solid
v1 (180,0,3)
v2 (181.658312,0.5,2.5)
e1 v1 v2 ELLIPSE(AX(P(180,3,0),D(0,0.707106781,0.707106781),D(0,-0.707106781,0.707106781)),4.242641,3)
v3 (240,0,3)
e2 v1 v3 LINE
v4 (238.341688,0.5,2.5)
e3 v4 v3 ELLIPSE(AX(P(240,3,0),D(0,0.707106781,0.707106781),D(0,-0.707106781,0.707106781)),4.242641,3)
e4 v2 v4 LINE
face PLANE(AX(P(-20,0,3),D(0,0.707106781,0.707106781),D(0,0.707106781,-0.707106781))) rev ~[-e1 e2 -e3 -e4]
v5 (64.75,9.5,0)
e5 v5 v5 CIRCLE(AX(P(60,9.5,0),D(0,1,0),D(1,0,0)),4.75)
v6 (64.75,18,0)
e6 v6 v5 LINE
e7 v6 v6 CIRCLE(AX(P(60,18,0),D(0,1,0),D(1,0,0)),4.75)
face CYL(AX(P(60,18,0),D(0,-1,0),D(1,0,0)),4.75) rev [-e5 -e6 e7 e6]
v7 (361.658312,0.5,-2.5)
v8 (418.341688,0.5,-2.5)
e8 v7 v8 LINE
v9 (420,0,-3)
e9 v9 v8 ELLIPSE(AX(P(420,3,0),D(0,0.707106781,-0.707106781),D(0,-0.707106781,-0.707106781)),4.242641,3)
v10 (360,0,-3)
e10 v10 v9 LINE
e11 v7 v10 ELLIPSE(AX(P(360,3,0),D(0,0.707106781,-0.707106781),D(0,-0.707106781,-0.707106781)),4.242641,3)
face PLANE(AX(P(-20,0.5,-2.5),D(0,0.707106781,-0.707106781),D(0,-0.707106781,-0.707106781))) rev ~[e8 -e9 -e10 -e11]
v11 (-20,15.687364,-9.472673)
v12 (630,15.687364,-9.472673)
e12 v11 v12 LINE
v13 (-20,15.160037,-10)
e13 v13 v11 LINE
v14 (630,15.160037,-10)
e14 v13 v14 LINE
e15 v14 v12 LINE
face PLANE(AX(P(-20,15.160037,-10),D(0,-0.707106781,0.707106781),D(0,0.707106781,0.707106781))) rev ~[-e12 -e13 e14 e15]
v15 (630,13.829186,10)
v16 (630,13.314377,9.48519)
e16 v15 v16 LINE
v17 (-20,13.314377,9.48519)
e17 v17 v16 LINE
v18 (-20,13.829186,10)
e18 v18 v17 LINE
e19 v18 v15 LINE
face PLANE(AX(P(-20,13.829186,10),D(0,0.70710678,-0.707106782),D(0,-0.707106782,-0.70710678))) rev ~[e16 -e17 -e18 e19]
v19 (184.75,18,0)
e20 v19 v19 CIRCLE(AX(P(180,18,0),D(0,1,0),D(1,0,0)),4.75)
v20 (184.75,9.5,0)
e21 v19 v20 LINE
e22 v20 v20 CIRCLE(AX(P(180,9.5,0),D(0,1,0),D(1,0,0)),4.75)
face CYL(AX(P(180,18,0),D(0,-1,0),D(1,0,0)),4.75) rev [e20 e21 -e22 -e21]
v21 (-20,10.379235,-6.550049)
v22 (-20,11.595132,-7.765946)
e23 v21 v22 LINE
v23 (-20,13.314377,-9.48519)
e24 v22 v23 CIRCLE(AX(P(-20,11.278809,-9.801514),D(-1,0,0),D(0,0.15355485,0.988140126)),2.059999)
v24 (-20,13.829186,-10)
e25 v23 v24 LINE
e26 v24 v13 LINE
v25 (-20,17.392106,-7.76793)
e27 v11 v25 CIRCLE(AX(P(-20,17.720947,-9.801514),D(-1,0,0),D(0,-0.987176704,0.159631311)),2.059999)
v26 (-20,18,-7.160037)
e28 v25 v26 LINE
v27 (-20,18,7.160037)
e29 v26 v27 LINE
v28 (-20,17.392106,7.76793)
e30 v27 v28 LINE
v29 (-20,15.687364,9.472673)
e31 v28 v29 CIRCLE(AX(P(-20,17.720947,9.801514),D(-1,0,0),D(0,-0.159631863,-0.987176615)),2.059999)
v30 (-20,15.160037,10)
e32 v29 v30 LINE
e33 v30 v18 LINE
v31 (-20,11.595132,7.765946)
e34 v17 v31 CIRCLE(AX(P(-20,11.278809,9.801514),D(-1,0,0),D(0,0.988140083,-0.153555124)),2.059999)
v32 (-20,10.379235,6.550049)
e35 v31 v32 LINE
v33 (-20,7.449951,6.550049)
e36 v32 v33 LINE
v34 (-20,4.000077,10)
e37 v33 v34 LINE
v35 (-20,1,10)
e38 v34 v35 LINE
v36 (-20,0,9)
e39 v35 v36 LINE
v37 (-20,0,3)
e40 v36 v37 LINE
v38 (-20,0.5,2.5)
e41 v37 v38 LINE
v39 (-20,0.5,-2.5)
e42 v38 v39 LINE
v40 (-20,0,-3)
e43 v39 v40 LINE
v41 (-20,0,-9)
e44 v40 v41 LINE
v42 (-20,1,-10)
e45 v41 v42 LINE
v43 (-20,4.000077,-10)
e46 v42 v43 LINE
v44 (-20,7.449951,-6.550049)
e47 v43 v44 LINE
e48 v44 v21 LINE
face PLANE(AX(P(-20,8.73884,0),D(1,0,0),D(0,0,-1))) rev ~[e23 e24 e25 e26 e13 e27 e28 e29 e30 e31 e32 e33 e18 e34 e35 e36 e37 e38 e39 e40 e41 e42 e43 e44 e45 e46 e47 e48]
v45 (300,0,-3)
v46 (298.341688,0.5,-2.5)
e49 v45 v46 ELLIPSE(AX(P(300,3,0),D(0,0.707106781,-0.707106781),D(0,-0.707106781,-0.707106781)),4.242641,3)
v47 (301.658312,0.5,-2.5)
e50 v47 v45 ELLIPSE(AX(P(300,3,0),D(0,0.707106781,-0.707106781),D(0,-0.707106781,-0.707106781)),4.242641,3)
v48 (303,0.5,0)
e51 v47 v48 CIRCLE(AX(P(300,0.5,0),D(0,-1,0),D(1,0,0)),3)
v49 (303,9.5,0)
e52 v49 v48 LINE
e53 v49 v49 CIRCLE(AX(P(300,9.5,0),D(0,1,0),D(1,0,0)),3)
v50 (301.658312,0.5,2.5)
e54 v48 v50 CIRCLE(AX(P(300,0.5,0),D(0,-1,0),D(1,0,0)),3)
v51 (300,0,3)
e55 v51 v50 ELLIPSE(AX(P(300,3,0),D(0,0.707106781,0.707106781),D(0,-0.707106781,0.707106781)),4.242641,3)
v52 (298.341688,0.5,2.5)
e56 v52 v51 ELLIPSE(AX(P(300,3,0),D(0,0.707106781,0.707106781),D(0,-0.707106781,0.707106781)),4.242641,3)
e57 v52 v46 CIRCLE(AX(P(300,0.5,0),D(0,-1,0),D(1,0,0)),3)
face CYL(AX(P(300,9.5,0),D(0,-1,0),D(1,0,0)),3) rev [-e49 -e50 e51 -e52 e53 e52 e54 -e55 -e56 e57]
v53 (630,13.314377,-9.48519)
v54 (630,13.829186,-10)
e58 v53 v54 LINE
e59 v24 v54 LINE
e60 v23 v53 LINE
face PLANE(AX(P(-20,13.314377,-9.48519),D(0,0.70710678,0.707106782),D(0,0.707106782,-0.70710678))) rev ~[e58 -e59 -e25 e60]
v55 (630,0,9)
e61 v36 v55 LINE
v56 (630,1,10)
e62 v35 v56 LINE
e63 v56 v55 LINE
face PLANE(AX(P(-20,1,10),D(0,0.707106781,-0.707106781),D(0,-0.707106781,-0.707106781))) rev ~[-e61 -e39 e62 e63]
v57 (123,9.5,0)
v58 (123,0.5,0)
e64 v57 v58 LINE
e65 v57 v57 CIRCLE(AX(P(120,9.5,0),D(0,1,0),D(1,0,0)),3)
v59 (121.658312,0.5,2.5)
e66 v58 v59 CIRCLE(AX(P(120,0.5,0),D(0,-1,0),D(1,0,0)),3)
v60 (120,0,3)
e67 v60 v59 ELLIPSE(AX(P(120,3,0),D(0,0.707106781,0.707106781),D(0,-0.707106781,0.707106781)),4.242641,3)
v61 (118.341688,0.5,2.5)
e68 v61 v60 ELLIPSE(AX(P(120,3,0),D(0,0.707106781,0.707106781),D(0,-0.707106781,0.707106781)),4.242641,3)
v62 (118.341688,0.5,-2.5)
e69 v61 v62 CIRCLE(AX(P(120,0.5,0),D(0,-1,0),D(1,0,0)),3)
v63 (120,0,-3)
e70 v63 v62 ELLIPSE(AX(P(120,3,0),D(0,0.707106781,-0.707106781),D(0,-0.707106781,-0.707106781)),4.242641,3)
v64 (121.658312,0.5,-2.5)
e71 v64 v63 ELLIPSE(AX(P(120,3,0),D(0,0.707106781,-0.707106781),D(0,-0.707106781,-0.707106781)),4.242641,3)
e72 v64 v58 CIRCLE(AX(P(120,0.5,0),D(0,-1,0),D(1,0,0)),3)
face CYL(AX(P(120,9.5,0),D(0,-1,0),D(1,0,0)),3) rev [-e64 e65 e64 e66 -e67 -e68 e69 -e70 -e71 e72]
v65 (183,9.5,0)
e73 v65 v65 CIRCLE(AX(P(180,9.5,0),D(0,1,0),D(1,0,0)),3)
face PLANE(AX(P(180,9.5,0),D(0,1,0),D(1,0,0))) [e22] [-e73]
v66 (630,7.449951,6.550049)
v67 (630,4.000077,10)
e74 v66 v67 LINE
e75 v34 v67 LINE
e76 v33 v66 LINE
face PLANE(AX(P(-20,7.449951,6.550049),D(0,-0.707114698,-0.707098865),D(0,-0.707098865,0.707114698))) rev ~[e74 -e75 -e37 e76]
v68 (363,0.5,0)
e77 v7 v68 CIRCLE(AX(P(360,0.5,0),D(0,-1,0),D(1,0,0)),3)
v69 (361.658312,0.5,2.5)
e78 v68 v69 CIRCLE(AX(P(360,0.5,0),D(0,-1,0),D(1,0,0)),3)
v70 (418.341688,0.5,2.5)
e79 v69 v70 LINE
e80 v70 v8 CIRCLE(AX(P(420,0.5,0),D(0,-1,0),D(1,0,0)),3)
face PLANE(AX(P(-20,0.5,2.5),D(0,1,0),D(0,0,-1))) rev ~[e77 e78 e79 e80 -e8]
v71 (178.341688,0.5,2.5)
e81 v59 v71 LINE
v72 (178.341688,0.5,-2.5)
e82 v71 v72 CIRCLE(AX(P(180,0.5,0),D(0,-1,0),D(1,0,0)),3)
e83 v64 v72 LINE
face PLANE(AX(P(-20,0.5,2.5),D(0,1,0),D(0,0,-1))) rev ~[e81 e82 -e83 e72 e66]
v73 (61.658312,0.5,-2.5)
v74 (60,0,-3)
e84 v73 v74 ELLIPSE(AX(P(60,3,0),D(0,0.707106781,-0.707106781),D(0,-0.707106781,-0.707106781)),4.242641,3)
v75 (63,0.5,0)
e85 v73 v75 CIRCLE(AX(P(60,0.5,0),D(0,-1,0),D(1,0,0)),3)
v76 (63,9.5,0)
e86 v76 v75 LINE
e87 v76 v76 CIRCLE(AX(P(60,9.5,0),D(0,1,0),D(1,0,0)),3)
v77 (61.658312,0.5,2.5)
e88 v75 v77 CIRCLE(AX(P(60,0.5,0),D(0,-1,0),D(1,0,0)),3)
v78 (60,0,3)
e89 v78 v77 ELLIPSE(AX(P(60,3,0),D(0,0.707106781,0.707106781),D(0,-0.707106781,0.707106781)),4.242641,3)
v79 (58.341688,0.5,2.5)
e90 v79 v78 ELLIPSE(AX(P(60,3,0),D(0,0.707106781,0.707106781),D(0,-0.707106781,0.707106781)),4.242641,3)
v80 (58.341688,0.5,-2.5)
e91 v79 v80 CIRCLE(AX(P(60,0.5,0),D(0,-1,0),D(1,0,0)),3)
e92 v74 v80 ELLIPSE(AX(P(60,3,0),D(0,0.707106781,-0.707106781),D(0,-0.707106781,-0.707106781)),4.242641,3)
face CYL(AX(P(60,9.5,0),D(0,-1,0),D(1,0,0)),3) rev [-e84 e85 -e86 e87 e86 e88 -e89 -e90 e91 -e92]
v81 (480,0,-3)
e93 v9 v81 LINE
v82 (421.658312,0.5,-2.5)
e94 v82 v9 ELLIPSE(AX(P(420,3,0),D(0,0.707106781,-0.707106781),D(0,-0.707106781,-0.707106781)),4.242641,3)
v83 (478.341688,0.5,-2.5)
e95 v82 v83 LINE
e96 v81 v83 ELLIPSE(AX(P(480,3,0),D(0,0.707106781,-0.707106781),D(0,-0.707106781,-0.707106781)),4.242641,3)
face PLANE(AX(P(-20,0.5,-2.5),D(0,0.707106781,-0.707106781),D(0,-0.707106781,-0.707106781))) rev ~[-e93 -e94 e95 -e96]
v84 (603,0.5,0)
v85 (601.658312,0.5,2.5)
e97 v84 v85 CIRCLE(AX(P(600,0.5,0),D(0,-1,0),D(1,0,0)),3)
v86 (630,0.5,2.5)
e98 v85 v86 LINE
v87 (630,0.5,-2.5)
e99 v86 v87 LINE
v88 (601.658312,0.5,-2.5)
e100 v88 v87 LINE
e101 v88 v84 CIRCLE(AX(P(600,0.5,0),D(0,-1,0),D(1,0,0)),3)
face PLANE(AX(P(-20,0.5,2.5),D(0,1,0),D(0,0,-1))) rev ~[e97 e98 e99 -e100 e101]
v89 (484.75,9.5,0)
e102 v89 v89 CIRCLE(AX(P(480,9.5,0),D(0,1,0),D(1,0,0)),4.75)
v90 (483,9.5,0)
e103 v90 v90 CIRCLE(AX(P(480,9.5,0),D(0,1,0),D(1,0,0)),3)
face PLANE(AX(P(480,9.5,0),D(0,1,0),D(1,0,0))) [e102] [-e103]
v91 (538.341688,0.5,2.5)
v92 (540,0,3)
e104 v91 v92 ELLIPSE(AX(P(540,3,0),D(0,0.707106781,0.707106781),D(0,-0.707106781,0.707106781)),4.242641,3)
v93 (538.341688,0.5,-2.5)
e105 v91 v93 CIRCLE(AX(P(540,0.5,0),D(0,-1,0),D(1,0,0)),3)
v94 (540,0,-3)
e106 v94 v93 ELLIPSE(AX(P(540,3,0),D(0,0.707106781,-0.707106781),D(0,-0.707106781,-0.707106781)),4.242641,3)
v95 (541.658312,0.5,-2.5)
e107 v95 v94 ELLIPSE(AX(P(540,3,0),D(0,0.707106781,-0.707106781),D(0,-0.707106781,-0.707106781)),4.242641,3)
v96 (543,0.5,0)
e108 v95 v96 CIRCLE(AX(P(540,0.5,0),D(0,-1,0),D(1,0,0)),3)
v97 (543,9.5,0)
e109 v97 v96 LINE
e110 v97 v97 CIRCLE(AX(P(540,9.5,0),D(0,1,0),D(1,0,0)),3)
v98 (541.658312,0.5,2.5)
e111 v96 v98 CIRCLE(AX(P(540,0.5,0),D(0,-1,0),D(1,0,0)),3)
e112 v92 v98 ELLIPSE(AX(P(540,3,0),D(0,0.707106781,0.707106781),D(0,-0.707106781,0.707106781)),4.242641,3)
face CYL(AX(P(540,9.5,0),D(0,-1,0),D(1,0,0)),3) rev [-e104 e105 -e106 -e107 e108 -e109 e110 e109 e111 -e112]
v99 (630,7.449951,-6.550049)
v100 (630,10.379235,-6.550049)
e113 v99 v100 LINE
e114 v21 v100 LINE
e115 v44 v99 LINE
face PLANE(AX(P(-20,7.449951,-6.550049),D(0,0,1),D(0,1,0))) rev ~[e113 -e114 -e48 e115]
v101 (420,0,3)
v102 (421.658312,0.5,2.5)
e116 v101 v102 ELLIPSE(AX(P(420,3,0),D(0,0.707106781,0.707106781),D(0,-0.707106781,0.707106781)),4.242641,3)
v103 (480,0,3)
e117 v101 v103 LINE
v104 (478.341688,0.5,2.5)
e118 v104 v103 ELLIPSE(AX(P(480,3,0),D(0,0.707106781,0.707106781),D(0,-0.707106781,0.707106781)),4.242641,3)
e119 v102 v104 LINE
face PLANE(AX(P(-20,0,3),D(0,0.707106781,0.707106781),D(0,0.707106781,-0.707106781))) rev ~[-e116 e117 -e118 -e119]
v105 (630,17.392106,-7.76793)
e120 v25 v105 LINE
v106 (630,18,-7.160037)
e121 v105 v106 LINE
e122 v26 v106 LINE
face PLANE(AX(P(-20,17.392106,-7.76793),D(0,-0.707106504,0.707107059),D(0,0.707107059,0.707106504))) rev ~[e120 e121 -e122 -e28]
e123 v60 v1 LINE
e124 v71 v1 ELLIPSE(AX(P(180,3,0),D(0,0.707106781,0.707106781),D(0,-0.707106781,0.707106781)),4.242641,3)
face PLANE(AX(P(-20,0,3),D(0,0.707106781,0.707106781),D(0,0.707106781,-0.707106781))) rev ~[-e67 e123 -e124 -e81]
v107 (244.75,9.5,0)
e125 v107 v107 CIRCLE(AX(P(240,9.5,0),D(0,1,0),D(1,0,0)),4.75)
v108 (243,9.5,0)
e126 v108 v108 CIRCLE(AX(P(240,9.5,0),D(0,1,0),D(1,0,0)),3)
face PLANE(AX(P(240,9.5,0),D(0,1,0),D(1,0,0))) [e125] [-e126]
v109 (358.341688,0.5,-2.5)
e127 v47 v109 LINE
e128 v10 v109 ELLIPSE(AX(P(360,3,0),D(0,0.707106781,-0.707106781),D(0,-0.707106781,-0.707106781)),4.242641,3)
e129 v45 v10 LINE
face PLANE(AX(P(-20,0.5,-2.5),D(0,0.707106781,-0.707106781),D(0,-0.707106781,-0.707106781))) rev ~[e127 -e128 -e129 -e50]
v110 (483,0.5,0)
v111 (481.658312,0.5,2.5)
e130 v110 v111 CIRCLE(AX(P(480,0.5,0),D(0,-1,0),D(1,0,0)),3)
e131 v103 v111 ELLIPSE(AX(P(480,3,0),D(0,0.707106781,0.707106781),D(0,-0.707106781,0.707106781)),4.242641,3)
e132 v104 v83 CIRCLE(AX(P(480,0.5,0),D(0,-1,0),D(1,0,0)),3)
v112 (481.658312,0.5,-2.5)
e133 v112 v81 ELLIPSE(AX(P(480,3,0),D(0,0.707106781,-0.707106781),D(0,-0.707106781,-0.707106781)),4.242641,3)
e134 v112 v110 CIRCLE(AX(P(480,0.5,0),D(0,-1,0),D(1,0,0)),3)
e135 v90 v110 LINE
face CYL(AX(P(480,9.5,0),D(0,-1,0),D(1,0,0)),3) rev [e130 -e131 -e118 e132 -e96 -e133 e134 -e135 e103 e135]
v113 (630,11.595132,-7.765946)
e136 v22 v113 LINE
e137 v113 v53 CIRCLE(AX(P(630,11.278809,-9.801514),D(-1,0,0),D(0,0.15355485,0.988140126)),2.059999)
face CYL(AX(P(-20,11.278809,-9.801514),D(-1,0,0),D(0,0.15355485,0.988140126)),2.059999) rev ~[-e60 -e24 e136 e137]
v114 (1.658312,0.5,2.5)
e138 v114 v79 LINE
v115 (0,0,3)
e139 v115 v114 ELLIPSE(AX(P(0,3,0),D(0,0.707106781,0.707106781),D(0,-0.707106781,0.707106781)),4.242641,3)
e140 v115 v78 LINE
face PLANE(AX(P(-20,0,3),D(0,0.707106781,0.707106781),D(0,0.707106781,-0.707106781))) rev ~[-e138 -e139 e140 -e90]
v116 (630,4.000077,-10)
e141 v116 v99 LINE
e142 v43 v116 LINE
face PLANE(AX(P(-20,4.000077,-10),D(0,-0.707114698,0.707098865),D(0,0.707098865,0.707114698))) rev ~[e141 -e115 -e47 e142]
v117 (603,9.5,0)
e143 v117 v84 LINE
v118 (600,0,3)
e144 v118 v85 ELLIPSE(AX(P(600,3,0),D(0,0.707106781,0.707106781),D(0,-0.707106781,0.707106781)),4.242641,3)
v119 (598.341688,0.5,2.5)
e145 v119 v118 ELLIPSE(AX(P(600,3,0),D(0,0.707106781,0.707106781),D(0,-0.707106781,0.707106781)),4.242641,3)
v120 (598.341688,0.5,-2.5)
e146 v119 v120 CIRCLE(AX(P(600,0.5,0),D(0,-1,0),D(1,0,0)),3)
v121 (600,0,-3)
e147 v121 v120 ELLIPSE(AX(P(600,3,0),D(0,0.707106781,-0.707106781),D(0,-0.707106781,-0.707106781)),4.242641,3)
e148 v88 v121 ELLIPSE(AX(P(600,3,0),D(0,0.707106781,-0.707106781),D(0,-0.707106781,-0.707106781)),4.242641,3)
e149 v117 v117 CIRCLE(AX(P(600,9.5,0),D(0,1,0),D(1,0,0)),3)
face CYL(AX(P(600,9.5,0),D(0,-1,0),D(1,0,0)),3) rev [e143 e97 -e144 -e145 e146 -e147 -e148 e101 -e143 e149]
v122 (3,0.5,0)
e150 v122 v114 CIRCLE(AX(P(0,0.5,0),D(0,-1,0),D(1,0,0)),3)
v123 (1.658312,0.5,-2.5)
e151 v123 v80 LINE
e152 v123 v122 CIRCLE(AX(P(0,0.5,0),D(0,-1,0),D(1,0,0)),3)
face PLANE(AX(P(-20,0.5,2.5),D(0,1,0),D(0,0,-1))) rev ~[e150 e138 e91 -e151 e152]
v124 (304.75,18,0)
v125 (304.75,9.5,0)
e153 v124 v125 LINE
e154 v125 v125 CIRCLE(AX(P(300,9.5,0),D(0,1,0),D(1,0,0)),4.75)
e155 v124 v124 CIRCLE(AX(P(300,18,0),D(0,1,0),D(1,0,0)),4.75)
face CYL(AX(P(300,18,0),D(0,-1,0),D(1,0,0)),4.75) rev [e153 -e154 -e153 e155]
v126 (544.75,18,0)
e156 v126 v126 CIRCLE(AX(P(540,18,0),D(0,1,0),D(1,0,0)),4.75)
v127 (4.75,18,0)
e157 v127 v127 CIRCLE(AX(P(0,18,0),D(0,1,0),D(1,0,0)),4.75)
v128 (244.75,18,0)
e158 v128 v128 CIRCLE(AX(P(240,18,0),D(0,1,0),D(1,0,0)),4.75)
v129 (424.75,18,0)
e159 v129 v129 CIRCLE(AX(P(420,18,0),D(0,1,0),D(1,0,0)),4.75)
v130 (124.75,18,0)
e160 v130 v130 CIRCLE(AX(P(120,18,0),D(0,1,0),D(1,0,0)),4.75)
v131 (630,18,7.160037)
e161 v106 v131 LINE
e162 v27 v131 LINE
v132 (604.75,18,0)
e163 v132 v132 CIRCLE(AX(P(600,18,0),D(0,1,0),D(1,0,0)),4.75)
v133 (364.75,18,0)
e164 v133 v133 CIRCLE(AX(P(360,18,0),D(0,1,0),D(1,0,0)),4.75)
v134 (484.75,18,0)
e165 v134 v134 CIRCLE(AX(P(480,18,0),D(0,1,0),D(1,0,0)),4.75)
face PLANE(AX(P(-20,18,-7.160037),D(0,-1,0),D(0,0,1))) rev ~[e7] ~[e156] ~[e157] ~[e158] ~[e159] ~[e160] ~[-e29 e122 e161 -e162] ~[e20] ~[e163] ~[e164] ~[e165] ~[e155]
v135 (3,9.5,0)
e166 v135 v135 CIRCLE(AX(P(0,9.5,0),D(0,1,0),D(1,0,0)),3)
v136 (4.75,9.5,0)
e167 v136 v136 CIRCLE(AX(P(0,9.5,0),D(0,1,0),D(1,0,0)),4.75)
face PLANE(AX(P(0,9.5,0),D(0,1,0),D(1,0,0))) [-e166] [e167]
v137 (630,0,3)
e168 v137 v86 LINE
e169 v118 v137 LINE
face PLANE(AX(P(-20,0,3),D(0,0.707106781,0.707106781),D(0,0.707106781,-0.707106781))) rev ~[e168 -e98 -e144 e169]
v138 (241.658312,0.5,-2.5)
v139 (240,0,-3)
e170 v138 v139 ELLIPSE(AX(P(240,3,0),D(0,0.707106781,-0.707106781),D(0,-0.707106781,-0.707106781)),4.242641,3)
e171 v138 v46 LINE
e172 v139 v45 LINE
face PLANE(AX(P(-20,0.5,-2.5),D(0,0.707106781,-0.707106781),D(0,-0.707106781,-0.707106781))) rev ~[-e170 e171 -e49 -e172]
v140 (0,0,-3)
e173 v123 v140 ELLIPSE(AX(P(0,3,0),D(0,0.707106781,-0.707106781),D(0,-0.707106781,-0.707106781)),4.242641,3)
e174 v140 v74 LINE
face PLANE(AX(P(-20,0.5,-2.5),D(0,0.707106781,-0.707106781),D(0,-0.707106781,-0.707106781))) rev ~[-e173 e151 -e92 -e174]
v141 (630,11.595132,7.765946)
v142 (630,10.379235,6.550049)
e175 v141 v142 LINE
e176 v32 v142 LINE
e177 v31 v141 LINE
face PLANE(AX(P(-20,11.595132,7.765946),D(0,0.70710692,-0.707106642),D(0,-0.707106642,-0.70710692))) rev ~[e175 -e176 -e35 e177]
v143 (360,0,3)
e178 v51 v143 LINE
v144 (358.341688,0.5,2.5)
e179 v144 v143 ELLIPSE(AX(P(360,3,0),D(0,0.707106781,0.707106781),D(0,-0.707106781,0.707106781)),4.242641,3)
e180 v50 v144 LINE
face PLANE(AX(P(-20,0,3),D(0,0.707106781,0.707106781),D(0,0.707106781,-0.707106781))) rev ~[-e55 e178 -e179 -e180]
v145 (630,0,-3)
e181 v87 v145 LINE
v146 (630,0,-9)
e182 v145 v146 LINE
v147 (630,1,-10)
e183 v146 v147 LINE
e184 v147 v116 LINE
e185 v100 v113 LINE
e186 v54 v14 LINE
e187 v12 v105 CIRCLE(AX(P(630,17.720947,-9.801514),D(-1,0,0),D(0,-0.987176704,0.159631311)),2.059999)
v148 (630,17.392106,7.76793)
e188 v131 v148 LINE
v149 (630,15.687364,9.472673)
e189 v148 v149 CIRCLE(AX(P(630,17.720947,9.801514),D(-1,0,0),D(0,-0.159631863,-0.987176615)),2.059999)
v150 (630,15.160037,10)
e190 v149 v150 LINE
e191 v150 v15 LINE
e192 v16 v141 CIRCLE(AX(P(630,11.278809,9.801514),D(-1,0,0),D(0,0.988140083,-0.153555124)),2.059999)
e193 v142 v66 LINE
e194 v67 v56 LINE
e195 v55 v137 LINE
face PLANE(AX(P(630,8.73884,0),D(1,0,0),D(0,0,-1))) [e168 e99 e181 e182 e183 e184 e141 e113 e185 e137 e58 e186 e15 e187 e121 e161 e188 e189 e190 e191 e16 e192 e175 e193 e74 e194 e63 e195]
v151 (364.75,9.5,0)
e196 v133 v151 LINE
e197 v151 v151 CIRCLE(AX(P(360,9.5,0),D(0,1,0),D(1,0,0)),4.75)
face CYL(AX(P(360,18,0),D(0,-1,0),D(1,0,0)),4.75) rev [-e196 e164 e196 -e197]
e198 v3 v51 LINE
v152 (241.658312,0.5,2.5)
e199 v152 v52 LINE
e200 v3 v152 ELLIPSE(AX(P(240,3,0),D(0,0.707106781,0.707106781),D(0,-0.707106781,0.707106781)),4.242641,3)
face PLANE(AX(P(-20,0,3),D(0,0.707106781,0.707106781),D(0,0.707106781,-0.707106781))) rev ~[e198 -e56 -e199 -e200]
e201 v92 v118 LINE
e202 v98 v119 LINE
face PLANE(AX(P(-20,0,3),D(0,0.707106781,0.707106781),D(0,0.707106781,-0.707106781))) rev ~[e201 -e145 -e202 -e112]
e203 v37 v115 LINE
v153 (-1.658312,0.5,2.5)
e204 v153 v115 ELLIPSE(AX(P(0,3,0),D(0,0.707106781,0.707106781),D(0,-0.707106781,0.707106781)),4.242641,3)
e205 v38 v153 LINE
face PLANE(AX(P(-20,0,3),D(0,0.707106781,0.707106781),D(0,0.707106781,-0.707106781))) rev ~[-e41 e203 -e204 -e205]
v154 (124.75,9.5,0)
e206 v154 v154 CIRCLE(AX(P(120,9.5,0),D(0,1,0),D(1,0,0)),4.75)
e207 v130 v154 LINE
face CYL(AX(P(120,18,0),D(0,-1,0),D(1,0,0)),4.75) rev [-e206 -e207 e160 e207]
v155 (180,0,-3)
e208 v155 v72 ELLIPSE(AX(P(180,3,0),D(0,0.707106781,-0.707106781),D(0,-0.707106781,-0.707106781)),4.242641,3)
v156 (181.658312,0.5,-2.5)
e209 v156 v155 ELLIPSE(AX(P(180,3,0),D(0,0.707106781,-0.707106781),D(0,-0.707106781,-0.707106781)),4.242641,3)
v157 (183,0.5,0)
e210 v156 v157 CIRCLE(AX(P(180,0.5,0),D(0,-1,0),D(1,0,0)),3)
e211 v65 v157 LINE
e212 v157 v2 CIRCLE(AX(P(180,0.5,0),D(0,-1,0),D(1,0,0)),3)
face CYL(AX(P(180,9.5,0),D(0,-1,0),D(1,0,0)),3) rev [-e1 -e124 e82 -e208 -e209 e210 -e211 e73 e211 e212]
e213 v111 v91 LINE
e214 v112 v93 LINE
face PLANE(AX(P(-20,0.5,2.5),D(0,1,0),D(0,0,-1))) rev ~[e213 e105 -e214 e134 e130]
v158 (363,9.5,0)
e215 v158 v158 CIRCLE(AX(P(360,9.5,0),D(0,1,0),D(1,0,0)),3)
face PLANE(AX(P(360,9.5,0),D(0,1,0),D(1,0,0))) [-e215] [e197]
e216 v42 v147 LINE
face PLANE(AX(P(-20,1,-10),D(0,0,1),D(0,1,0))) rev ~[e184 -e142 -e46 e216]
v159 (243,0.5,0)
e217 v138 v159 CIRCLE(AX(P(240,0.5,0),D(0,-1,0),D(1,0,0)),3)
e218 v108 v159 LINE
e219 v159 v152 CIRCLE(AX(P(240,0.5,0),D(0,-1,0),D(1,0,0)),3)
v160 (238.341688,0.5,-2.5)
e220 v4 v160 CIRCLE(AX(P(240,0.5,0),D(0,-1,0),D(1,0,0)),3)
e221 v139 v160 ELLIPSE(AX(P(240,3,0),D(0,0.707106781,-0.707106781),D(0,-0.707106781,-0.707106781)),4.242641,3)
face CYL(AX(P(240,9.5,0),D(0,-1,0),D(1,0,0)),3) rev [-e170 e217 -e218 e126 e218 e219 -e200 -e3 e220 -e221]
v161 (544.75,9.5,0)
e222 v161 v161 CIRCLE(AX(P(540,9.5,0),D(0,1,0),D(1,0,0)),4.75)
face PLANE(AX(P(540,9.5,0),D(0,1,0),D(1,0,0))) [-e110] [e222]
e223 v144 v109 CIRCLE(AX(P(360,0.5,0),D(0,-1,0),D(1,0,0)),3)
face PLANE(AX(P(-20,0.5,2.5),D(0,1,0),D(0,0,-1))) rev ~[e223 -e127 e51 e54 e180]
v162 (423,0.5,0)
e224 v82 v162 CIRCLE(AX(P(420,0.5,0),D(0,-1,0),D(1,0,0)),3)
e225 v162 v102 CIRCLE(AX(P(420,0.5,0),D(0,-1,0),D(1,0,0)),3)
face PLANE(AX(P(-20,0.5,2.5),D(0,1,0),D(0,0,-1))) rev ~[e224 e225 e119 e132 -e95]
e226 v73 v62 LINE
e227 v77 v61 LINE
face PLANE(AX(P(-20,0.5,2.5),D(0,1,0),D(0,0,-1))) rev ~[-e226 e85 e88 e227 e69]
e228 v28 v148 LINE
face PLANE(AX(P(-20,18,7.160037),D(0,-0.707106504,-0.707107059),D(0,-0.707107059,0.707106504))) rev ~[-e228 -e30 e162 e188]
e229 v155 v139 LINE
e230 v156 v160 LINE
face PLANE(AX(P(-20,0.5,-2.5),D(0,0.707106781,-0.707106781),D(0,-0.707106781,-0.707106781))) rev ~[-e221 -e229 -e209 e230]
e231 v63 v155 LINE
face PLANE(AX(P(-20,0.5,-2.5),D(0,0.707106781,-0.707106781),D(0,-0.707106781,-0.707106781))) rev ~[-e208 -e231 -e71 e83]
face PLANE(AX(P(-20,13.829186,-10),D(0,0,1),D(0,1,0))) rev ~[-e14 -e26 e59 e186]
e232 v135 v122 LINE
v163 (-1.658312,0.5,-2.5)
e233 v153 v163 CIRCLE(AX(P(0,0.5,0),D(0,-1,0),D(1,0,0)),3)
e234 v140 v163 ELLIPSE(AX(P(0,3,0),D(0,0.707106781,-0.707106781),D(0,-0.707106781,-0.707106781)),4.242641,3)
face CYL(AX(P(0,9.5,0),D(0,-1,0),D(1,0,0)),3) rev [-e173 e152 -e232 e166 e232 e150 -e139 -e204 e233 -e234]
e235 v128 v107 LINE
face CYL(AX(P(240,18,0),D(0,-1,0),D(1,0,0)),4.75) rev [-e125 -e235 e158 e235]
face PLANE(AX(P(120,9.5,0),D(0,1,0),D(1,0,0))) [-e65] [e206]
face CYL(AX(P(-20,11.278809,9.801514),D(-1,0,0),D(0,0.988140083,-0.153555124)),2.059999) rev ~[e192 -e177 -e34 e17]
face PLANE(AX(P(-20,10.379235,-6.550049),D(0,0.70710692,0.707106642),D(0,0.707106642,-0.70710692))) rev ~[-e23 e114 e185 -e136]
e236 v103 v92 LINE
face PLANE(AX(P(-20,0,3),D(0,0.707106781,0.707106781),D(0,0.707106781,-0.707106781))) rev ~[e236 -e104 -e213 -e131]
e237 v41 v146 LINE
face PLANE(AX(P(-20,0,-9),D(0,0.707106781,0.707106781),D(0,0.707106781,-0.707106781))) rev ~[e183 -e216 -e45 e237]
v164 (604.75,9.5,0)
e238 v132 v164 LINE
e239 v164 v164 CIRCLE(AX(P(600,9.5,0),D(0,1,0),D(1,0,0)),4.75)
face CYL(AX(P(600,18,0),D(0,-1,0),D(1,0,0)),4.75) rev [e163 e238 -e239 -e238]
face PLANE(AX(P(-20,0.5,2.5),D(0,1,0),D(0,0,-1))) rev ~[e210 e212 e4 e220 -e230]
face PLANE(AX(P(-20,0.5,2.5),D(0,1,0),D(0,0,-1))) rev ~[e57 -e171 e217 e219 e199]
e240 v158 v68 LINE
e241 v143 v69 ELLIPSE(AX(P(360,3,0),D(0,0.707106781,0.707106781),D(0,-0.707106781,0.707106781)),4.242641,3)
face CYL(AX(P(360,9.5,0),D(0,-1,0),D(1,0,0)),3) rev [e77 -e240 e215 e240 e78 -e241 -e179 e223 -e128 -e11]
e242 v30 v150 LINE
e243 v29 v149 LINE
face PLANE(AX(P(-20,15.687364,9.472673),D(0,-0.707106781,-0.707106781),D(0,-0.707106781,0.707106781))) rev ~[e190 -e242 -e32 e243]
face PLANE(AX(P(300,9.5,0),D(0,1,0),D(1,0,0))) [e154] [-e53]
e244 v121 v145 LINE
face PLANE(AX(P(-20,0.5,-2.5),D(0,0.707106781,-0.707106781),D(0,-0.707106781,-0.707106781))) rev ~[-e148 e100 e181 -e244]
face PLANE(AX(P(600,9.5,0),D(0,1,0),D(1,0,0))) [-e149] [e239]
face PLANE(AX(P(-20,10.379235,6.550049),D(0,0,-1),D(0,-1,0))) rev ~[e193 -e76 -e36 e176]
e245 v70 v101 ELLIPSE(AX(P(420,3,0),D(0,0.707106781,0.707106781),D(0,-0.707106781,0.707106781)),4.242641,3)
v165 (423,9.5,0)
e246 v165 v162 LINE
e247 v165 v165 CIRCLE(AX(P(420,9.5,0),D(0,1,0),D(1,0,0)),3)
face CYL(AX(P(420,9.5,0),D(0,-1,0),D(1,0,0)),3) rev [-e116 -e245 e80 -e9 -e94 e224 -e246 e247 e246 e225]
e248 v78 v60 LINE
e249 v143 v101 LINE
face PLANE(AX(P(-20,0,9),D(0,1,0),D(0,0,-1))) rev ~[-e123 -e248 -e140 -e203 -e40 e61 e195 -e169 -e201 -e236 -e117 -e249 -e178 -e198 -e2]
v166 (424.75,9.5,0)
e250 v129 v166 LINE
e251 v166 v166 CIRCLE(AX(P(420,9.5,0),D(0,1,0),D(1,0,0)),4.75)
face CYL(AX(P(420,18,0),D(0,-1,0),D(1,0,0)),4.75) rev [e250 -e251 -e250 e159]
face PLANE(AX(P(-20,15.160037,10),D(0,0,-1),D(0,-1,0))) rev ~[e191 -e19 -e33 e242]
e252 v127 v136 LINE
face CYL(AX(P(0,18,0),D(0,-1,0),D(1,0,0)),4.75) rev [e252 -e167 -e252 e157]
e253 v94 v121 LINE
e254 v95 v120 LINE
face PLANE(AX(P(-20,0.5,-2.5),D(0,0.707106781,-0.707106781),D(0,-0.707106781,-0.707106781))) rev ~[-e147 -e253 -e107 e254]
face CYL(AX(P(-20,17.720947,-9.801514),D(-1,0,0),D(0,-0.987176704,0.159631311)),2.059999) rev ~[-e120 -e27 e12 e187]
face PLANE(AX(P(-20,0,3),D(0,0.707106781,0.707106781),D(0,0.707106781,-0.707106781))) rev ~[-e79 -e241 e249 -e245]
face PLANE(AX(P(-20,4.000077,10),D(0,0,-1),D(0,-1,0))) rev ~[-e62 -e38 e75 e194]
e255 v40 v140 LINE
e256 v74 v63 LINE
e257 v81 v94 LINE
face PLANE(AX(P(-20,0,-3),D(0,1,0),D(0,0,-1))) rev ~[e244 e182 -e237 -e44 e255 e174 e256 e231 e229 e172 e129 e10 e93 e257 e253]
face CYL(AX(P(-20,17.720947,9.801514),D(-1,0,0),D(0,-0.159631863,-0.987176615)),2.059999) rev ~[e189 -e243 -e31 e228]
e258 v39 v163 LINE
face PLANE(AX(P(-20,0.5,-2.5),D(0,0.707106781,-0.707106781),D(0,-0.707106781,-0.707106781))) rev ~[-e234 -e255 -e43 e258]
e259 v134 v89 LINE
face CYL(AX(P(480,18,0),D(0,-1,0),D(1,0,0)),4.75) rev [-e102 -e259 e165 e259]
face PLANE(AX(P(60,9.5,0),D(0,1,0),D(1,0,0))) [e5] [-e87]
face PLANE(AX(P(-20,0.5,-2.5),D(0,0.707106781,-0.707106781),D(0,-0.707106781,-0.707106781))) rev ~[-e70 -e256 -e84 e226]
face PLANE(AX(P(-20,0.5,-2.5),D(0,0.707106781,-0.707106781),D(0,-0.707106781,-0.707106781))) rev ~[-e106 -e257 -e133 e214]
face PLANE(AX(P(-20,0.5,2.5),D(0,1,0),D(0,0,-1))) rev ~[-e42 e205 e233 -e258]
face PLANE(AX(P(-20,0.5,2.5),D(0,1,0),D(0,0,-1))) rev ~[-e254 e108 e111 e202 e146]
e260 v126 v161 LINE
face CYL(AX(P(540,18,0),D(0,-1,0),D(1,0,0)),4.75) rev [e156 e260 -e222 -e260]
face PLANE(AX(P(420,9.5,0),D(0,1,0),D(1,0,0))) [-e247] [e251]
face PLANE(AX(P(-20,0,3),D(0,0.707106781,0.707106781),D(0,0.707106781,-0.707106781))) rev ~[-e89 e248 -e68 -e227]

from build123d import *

# Parameters (mm, degrees)
BOSS_EXTRUDE1_DEPTH = 650
LPATTERN1_COUNT     = 9
LPATTERN1_PITCH     = 60


with BuildPart() as part:
    # Sketch1 → Boss-Extrude1 (new body)
    with BuildSketch(Plane(origin=(-20, 0, 0), x_dir=(0, 0, -1), z_dir=(1, 0, 0))):
        with BuildLine():
            Line((-10, 4.000077248), (-10, 1))
            Line((-10, 1), (-9, 0))
            Line((-9, 0), (-3, 0))
            Line((-3, 0), (-2.5, 0.5))
            Line((-2.5, 0.5), (2.5, 0.5))
            Line((2.5, 0.5), (3, 0))
            Line((3, 0), (9, 0))
            Line((9, 0), (10, 1))
            Line((10, 1), (10, 4.000077248))
            Line((10, 4.000077248), (6.550048828, 7.449951172))
            Line((6.550048828, 7.449951172), (6.550048828, 10.379235268))
            Line((6.550048828, 10.379235268), (7.765945541, 11.595131504))
            ThreePointArc((7.765945541, 11.595131504), (8.344873878, 12.735447983), (9.485190198, 13.314376637))
            Line((9.485190198, 13.314376637), (10, 13.82918644))
            Line((10, 13.82918644), (10, 15.160037041))
            Line((10, 15.160037041), (9.472673258, 15.687363783))
            ThreePointArc((9.472673258, 15.687363783), (8.344874488, 16.264307267), (7.767930373, 17.392105714))
            Line((7.767930373, 17.392105714), (7.160036564, 18))
            Line((7.160036564, 18), (-7.160036564, 18))
            Line((-7.160036564, 18), (-7.767930373, 17.392105714))
            ThreePointArc((-7.767930373, 17.392105714), (-8.344874488, 16.264307267), (-9.472673258, 15.687363783))
            Line((-9.472673258, 15.687363783), (-10, 15.160037041))
            Line((-10, 15.160037041), (-10, 13.82918644))
            Line((-10, 13.82918644), (-9.485190198, 13.314376637))
            ThreePointArc((-9.485190198, 13.314376637), (-8.344873878, 12.735447983), (-7.765945541, 11.595131504))
            Line((-7.765945541, 11.595131504), (-6.550048828, 10.379235268))
            Line((-6.550048828, 10.379235268), (-6.550048828, 7.449951172))
            Line((-6.550048828, 7.449951172), (-10, 4.000077248))
        make_face()
    extrude(amount=BOSS_EXTRUDE1_DEPTH)

    # Sketch2 → Cut-Revolve1 (revolve, cut)
    with BuildSketch(Plane.XY):
        Polygon((0, 18), (4.75, 18), (4.75, 9.5), (3, 9.5), (3, 0), (0, 0), align=None)
    revolve(axis=Axis((0, 0, 0), (0, 1, 0)), mode=Mode.SUBTRACT)

    # Sketch3 → Cut-Revolve2 (revolve, cut)
    with BuildSketch(Plane.XY):
        Polygon((60, 18), (64.75, 18), (64.75, 9.5), (63, 9.5), (63, 0), (60, 0), align=None)
    revolve(axis=Axis((60, 0, 0), (0, 1, 0)), mode=Mode.SUBTRACT)

    # Sketch4 → Cut-Revolve3 (revolve, cut)
    with BuildSketch(Plane.XY):
        Polygon((120, 18), (124.75, 18), (124.75, 9.5), (123, 9.5), (123, 0), (120, 0), align=None)
    cut_revolve3 = revolve(axis=Axis((120, 0, 0), (0, 1, 0)), mode=Mode.SUBTRACT)

    # LPattern1: Cut-Revolve3 ×9
    with Locations(*[(i * LPATTERN1_PITCH, 0, 0) for i in range(1, LPATTERN1_COUNT)]):
        add(cut_revolve3, mode=Mode.SUBTRACT)


solid = part.part
